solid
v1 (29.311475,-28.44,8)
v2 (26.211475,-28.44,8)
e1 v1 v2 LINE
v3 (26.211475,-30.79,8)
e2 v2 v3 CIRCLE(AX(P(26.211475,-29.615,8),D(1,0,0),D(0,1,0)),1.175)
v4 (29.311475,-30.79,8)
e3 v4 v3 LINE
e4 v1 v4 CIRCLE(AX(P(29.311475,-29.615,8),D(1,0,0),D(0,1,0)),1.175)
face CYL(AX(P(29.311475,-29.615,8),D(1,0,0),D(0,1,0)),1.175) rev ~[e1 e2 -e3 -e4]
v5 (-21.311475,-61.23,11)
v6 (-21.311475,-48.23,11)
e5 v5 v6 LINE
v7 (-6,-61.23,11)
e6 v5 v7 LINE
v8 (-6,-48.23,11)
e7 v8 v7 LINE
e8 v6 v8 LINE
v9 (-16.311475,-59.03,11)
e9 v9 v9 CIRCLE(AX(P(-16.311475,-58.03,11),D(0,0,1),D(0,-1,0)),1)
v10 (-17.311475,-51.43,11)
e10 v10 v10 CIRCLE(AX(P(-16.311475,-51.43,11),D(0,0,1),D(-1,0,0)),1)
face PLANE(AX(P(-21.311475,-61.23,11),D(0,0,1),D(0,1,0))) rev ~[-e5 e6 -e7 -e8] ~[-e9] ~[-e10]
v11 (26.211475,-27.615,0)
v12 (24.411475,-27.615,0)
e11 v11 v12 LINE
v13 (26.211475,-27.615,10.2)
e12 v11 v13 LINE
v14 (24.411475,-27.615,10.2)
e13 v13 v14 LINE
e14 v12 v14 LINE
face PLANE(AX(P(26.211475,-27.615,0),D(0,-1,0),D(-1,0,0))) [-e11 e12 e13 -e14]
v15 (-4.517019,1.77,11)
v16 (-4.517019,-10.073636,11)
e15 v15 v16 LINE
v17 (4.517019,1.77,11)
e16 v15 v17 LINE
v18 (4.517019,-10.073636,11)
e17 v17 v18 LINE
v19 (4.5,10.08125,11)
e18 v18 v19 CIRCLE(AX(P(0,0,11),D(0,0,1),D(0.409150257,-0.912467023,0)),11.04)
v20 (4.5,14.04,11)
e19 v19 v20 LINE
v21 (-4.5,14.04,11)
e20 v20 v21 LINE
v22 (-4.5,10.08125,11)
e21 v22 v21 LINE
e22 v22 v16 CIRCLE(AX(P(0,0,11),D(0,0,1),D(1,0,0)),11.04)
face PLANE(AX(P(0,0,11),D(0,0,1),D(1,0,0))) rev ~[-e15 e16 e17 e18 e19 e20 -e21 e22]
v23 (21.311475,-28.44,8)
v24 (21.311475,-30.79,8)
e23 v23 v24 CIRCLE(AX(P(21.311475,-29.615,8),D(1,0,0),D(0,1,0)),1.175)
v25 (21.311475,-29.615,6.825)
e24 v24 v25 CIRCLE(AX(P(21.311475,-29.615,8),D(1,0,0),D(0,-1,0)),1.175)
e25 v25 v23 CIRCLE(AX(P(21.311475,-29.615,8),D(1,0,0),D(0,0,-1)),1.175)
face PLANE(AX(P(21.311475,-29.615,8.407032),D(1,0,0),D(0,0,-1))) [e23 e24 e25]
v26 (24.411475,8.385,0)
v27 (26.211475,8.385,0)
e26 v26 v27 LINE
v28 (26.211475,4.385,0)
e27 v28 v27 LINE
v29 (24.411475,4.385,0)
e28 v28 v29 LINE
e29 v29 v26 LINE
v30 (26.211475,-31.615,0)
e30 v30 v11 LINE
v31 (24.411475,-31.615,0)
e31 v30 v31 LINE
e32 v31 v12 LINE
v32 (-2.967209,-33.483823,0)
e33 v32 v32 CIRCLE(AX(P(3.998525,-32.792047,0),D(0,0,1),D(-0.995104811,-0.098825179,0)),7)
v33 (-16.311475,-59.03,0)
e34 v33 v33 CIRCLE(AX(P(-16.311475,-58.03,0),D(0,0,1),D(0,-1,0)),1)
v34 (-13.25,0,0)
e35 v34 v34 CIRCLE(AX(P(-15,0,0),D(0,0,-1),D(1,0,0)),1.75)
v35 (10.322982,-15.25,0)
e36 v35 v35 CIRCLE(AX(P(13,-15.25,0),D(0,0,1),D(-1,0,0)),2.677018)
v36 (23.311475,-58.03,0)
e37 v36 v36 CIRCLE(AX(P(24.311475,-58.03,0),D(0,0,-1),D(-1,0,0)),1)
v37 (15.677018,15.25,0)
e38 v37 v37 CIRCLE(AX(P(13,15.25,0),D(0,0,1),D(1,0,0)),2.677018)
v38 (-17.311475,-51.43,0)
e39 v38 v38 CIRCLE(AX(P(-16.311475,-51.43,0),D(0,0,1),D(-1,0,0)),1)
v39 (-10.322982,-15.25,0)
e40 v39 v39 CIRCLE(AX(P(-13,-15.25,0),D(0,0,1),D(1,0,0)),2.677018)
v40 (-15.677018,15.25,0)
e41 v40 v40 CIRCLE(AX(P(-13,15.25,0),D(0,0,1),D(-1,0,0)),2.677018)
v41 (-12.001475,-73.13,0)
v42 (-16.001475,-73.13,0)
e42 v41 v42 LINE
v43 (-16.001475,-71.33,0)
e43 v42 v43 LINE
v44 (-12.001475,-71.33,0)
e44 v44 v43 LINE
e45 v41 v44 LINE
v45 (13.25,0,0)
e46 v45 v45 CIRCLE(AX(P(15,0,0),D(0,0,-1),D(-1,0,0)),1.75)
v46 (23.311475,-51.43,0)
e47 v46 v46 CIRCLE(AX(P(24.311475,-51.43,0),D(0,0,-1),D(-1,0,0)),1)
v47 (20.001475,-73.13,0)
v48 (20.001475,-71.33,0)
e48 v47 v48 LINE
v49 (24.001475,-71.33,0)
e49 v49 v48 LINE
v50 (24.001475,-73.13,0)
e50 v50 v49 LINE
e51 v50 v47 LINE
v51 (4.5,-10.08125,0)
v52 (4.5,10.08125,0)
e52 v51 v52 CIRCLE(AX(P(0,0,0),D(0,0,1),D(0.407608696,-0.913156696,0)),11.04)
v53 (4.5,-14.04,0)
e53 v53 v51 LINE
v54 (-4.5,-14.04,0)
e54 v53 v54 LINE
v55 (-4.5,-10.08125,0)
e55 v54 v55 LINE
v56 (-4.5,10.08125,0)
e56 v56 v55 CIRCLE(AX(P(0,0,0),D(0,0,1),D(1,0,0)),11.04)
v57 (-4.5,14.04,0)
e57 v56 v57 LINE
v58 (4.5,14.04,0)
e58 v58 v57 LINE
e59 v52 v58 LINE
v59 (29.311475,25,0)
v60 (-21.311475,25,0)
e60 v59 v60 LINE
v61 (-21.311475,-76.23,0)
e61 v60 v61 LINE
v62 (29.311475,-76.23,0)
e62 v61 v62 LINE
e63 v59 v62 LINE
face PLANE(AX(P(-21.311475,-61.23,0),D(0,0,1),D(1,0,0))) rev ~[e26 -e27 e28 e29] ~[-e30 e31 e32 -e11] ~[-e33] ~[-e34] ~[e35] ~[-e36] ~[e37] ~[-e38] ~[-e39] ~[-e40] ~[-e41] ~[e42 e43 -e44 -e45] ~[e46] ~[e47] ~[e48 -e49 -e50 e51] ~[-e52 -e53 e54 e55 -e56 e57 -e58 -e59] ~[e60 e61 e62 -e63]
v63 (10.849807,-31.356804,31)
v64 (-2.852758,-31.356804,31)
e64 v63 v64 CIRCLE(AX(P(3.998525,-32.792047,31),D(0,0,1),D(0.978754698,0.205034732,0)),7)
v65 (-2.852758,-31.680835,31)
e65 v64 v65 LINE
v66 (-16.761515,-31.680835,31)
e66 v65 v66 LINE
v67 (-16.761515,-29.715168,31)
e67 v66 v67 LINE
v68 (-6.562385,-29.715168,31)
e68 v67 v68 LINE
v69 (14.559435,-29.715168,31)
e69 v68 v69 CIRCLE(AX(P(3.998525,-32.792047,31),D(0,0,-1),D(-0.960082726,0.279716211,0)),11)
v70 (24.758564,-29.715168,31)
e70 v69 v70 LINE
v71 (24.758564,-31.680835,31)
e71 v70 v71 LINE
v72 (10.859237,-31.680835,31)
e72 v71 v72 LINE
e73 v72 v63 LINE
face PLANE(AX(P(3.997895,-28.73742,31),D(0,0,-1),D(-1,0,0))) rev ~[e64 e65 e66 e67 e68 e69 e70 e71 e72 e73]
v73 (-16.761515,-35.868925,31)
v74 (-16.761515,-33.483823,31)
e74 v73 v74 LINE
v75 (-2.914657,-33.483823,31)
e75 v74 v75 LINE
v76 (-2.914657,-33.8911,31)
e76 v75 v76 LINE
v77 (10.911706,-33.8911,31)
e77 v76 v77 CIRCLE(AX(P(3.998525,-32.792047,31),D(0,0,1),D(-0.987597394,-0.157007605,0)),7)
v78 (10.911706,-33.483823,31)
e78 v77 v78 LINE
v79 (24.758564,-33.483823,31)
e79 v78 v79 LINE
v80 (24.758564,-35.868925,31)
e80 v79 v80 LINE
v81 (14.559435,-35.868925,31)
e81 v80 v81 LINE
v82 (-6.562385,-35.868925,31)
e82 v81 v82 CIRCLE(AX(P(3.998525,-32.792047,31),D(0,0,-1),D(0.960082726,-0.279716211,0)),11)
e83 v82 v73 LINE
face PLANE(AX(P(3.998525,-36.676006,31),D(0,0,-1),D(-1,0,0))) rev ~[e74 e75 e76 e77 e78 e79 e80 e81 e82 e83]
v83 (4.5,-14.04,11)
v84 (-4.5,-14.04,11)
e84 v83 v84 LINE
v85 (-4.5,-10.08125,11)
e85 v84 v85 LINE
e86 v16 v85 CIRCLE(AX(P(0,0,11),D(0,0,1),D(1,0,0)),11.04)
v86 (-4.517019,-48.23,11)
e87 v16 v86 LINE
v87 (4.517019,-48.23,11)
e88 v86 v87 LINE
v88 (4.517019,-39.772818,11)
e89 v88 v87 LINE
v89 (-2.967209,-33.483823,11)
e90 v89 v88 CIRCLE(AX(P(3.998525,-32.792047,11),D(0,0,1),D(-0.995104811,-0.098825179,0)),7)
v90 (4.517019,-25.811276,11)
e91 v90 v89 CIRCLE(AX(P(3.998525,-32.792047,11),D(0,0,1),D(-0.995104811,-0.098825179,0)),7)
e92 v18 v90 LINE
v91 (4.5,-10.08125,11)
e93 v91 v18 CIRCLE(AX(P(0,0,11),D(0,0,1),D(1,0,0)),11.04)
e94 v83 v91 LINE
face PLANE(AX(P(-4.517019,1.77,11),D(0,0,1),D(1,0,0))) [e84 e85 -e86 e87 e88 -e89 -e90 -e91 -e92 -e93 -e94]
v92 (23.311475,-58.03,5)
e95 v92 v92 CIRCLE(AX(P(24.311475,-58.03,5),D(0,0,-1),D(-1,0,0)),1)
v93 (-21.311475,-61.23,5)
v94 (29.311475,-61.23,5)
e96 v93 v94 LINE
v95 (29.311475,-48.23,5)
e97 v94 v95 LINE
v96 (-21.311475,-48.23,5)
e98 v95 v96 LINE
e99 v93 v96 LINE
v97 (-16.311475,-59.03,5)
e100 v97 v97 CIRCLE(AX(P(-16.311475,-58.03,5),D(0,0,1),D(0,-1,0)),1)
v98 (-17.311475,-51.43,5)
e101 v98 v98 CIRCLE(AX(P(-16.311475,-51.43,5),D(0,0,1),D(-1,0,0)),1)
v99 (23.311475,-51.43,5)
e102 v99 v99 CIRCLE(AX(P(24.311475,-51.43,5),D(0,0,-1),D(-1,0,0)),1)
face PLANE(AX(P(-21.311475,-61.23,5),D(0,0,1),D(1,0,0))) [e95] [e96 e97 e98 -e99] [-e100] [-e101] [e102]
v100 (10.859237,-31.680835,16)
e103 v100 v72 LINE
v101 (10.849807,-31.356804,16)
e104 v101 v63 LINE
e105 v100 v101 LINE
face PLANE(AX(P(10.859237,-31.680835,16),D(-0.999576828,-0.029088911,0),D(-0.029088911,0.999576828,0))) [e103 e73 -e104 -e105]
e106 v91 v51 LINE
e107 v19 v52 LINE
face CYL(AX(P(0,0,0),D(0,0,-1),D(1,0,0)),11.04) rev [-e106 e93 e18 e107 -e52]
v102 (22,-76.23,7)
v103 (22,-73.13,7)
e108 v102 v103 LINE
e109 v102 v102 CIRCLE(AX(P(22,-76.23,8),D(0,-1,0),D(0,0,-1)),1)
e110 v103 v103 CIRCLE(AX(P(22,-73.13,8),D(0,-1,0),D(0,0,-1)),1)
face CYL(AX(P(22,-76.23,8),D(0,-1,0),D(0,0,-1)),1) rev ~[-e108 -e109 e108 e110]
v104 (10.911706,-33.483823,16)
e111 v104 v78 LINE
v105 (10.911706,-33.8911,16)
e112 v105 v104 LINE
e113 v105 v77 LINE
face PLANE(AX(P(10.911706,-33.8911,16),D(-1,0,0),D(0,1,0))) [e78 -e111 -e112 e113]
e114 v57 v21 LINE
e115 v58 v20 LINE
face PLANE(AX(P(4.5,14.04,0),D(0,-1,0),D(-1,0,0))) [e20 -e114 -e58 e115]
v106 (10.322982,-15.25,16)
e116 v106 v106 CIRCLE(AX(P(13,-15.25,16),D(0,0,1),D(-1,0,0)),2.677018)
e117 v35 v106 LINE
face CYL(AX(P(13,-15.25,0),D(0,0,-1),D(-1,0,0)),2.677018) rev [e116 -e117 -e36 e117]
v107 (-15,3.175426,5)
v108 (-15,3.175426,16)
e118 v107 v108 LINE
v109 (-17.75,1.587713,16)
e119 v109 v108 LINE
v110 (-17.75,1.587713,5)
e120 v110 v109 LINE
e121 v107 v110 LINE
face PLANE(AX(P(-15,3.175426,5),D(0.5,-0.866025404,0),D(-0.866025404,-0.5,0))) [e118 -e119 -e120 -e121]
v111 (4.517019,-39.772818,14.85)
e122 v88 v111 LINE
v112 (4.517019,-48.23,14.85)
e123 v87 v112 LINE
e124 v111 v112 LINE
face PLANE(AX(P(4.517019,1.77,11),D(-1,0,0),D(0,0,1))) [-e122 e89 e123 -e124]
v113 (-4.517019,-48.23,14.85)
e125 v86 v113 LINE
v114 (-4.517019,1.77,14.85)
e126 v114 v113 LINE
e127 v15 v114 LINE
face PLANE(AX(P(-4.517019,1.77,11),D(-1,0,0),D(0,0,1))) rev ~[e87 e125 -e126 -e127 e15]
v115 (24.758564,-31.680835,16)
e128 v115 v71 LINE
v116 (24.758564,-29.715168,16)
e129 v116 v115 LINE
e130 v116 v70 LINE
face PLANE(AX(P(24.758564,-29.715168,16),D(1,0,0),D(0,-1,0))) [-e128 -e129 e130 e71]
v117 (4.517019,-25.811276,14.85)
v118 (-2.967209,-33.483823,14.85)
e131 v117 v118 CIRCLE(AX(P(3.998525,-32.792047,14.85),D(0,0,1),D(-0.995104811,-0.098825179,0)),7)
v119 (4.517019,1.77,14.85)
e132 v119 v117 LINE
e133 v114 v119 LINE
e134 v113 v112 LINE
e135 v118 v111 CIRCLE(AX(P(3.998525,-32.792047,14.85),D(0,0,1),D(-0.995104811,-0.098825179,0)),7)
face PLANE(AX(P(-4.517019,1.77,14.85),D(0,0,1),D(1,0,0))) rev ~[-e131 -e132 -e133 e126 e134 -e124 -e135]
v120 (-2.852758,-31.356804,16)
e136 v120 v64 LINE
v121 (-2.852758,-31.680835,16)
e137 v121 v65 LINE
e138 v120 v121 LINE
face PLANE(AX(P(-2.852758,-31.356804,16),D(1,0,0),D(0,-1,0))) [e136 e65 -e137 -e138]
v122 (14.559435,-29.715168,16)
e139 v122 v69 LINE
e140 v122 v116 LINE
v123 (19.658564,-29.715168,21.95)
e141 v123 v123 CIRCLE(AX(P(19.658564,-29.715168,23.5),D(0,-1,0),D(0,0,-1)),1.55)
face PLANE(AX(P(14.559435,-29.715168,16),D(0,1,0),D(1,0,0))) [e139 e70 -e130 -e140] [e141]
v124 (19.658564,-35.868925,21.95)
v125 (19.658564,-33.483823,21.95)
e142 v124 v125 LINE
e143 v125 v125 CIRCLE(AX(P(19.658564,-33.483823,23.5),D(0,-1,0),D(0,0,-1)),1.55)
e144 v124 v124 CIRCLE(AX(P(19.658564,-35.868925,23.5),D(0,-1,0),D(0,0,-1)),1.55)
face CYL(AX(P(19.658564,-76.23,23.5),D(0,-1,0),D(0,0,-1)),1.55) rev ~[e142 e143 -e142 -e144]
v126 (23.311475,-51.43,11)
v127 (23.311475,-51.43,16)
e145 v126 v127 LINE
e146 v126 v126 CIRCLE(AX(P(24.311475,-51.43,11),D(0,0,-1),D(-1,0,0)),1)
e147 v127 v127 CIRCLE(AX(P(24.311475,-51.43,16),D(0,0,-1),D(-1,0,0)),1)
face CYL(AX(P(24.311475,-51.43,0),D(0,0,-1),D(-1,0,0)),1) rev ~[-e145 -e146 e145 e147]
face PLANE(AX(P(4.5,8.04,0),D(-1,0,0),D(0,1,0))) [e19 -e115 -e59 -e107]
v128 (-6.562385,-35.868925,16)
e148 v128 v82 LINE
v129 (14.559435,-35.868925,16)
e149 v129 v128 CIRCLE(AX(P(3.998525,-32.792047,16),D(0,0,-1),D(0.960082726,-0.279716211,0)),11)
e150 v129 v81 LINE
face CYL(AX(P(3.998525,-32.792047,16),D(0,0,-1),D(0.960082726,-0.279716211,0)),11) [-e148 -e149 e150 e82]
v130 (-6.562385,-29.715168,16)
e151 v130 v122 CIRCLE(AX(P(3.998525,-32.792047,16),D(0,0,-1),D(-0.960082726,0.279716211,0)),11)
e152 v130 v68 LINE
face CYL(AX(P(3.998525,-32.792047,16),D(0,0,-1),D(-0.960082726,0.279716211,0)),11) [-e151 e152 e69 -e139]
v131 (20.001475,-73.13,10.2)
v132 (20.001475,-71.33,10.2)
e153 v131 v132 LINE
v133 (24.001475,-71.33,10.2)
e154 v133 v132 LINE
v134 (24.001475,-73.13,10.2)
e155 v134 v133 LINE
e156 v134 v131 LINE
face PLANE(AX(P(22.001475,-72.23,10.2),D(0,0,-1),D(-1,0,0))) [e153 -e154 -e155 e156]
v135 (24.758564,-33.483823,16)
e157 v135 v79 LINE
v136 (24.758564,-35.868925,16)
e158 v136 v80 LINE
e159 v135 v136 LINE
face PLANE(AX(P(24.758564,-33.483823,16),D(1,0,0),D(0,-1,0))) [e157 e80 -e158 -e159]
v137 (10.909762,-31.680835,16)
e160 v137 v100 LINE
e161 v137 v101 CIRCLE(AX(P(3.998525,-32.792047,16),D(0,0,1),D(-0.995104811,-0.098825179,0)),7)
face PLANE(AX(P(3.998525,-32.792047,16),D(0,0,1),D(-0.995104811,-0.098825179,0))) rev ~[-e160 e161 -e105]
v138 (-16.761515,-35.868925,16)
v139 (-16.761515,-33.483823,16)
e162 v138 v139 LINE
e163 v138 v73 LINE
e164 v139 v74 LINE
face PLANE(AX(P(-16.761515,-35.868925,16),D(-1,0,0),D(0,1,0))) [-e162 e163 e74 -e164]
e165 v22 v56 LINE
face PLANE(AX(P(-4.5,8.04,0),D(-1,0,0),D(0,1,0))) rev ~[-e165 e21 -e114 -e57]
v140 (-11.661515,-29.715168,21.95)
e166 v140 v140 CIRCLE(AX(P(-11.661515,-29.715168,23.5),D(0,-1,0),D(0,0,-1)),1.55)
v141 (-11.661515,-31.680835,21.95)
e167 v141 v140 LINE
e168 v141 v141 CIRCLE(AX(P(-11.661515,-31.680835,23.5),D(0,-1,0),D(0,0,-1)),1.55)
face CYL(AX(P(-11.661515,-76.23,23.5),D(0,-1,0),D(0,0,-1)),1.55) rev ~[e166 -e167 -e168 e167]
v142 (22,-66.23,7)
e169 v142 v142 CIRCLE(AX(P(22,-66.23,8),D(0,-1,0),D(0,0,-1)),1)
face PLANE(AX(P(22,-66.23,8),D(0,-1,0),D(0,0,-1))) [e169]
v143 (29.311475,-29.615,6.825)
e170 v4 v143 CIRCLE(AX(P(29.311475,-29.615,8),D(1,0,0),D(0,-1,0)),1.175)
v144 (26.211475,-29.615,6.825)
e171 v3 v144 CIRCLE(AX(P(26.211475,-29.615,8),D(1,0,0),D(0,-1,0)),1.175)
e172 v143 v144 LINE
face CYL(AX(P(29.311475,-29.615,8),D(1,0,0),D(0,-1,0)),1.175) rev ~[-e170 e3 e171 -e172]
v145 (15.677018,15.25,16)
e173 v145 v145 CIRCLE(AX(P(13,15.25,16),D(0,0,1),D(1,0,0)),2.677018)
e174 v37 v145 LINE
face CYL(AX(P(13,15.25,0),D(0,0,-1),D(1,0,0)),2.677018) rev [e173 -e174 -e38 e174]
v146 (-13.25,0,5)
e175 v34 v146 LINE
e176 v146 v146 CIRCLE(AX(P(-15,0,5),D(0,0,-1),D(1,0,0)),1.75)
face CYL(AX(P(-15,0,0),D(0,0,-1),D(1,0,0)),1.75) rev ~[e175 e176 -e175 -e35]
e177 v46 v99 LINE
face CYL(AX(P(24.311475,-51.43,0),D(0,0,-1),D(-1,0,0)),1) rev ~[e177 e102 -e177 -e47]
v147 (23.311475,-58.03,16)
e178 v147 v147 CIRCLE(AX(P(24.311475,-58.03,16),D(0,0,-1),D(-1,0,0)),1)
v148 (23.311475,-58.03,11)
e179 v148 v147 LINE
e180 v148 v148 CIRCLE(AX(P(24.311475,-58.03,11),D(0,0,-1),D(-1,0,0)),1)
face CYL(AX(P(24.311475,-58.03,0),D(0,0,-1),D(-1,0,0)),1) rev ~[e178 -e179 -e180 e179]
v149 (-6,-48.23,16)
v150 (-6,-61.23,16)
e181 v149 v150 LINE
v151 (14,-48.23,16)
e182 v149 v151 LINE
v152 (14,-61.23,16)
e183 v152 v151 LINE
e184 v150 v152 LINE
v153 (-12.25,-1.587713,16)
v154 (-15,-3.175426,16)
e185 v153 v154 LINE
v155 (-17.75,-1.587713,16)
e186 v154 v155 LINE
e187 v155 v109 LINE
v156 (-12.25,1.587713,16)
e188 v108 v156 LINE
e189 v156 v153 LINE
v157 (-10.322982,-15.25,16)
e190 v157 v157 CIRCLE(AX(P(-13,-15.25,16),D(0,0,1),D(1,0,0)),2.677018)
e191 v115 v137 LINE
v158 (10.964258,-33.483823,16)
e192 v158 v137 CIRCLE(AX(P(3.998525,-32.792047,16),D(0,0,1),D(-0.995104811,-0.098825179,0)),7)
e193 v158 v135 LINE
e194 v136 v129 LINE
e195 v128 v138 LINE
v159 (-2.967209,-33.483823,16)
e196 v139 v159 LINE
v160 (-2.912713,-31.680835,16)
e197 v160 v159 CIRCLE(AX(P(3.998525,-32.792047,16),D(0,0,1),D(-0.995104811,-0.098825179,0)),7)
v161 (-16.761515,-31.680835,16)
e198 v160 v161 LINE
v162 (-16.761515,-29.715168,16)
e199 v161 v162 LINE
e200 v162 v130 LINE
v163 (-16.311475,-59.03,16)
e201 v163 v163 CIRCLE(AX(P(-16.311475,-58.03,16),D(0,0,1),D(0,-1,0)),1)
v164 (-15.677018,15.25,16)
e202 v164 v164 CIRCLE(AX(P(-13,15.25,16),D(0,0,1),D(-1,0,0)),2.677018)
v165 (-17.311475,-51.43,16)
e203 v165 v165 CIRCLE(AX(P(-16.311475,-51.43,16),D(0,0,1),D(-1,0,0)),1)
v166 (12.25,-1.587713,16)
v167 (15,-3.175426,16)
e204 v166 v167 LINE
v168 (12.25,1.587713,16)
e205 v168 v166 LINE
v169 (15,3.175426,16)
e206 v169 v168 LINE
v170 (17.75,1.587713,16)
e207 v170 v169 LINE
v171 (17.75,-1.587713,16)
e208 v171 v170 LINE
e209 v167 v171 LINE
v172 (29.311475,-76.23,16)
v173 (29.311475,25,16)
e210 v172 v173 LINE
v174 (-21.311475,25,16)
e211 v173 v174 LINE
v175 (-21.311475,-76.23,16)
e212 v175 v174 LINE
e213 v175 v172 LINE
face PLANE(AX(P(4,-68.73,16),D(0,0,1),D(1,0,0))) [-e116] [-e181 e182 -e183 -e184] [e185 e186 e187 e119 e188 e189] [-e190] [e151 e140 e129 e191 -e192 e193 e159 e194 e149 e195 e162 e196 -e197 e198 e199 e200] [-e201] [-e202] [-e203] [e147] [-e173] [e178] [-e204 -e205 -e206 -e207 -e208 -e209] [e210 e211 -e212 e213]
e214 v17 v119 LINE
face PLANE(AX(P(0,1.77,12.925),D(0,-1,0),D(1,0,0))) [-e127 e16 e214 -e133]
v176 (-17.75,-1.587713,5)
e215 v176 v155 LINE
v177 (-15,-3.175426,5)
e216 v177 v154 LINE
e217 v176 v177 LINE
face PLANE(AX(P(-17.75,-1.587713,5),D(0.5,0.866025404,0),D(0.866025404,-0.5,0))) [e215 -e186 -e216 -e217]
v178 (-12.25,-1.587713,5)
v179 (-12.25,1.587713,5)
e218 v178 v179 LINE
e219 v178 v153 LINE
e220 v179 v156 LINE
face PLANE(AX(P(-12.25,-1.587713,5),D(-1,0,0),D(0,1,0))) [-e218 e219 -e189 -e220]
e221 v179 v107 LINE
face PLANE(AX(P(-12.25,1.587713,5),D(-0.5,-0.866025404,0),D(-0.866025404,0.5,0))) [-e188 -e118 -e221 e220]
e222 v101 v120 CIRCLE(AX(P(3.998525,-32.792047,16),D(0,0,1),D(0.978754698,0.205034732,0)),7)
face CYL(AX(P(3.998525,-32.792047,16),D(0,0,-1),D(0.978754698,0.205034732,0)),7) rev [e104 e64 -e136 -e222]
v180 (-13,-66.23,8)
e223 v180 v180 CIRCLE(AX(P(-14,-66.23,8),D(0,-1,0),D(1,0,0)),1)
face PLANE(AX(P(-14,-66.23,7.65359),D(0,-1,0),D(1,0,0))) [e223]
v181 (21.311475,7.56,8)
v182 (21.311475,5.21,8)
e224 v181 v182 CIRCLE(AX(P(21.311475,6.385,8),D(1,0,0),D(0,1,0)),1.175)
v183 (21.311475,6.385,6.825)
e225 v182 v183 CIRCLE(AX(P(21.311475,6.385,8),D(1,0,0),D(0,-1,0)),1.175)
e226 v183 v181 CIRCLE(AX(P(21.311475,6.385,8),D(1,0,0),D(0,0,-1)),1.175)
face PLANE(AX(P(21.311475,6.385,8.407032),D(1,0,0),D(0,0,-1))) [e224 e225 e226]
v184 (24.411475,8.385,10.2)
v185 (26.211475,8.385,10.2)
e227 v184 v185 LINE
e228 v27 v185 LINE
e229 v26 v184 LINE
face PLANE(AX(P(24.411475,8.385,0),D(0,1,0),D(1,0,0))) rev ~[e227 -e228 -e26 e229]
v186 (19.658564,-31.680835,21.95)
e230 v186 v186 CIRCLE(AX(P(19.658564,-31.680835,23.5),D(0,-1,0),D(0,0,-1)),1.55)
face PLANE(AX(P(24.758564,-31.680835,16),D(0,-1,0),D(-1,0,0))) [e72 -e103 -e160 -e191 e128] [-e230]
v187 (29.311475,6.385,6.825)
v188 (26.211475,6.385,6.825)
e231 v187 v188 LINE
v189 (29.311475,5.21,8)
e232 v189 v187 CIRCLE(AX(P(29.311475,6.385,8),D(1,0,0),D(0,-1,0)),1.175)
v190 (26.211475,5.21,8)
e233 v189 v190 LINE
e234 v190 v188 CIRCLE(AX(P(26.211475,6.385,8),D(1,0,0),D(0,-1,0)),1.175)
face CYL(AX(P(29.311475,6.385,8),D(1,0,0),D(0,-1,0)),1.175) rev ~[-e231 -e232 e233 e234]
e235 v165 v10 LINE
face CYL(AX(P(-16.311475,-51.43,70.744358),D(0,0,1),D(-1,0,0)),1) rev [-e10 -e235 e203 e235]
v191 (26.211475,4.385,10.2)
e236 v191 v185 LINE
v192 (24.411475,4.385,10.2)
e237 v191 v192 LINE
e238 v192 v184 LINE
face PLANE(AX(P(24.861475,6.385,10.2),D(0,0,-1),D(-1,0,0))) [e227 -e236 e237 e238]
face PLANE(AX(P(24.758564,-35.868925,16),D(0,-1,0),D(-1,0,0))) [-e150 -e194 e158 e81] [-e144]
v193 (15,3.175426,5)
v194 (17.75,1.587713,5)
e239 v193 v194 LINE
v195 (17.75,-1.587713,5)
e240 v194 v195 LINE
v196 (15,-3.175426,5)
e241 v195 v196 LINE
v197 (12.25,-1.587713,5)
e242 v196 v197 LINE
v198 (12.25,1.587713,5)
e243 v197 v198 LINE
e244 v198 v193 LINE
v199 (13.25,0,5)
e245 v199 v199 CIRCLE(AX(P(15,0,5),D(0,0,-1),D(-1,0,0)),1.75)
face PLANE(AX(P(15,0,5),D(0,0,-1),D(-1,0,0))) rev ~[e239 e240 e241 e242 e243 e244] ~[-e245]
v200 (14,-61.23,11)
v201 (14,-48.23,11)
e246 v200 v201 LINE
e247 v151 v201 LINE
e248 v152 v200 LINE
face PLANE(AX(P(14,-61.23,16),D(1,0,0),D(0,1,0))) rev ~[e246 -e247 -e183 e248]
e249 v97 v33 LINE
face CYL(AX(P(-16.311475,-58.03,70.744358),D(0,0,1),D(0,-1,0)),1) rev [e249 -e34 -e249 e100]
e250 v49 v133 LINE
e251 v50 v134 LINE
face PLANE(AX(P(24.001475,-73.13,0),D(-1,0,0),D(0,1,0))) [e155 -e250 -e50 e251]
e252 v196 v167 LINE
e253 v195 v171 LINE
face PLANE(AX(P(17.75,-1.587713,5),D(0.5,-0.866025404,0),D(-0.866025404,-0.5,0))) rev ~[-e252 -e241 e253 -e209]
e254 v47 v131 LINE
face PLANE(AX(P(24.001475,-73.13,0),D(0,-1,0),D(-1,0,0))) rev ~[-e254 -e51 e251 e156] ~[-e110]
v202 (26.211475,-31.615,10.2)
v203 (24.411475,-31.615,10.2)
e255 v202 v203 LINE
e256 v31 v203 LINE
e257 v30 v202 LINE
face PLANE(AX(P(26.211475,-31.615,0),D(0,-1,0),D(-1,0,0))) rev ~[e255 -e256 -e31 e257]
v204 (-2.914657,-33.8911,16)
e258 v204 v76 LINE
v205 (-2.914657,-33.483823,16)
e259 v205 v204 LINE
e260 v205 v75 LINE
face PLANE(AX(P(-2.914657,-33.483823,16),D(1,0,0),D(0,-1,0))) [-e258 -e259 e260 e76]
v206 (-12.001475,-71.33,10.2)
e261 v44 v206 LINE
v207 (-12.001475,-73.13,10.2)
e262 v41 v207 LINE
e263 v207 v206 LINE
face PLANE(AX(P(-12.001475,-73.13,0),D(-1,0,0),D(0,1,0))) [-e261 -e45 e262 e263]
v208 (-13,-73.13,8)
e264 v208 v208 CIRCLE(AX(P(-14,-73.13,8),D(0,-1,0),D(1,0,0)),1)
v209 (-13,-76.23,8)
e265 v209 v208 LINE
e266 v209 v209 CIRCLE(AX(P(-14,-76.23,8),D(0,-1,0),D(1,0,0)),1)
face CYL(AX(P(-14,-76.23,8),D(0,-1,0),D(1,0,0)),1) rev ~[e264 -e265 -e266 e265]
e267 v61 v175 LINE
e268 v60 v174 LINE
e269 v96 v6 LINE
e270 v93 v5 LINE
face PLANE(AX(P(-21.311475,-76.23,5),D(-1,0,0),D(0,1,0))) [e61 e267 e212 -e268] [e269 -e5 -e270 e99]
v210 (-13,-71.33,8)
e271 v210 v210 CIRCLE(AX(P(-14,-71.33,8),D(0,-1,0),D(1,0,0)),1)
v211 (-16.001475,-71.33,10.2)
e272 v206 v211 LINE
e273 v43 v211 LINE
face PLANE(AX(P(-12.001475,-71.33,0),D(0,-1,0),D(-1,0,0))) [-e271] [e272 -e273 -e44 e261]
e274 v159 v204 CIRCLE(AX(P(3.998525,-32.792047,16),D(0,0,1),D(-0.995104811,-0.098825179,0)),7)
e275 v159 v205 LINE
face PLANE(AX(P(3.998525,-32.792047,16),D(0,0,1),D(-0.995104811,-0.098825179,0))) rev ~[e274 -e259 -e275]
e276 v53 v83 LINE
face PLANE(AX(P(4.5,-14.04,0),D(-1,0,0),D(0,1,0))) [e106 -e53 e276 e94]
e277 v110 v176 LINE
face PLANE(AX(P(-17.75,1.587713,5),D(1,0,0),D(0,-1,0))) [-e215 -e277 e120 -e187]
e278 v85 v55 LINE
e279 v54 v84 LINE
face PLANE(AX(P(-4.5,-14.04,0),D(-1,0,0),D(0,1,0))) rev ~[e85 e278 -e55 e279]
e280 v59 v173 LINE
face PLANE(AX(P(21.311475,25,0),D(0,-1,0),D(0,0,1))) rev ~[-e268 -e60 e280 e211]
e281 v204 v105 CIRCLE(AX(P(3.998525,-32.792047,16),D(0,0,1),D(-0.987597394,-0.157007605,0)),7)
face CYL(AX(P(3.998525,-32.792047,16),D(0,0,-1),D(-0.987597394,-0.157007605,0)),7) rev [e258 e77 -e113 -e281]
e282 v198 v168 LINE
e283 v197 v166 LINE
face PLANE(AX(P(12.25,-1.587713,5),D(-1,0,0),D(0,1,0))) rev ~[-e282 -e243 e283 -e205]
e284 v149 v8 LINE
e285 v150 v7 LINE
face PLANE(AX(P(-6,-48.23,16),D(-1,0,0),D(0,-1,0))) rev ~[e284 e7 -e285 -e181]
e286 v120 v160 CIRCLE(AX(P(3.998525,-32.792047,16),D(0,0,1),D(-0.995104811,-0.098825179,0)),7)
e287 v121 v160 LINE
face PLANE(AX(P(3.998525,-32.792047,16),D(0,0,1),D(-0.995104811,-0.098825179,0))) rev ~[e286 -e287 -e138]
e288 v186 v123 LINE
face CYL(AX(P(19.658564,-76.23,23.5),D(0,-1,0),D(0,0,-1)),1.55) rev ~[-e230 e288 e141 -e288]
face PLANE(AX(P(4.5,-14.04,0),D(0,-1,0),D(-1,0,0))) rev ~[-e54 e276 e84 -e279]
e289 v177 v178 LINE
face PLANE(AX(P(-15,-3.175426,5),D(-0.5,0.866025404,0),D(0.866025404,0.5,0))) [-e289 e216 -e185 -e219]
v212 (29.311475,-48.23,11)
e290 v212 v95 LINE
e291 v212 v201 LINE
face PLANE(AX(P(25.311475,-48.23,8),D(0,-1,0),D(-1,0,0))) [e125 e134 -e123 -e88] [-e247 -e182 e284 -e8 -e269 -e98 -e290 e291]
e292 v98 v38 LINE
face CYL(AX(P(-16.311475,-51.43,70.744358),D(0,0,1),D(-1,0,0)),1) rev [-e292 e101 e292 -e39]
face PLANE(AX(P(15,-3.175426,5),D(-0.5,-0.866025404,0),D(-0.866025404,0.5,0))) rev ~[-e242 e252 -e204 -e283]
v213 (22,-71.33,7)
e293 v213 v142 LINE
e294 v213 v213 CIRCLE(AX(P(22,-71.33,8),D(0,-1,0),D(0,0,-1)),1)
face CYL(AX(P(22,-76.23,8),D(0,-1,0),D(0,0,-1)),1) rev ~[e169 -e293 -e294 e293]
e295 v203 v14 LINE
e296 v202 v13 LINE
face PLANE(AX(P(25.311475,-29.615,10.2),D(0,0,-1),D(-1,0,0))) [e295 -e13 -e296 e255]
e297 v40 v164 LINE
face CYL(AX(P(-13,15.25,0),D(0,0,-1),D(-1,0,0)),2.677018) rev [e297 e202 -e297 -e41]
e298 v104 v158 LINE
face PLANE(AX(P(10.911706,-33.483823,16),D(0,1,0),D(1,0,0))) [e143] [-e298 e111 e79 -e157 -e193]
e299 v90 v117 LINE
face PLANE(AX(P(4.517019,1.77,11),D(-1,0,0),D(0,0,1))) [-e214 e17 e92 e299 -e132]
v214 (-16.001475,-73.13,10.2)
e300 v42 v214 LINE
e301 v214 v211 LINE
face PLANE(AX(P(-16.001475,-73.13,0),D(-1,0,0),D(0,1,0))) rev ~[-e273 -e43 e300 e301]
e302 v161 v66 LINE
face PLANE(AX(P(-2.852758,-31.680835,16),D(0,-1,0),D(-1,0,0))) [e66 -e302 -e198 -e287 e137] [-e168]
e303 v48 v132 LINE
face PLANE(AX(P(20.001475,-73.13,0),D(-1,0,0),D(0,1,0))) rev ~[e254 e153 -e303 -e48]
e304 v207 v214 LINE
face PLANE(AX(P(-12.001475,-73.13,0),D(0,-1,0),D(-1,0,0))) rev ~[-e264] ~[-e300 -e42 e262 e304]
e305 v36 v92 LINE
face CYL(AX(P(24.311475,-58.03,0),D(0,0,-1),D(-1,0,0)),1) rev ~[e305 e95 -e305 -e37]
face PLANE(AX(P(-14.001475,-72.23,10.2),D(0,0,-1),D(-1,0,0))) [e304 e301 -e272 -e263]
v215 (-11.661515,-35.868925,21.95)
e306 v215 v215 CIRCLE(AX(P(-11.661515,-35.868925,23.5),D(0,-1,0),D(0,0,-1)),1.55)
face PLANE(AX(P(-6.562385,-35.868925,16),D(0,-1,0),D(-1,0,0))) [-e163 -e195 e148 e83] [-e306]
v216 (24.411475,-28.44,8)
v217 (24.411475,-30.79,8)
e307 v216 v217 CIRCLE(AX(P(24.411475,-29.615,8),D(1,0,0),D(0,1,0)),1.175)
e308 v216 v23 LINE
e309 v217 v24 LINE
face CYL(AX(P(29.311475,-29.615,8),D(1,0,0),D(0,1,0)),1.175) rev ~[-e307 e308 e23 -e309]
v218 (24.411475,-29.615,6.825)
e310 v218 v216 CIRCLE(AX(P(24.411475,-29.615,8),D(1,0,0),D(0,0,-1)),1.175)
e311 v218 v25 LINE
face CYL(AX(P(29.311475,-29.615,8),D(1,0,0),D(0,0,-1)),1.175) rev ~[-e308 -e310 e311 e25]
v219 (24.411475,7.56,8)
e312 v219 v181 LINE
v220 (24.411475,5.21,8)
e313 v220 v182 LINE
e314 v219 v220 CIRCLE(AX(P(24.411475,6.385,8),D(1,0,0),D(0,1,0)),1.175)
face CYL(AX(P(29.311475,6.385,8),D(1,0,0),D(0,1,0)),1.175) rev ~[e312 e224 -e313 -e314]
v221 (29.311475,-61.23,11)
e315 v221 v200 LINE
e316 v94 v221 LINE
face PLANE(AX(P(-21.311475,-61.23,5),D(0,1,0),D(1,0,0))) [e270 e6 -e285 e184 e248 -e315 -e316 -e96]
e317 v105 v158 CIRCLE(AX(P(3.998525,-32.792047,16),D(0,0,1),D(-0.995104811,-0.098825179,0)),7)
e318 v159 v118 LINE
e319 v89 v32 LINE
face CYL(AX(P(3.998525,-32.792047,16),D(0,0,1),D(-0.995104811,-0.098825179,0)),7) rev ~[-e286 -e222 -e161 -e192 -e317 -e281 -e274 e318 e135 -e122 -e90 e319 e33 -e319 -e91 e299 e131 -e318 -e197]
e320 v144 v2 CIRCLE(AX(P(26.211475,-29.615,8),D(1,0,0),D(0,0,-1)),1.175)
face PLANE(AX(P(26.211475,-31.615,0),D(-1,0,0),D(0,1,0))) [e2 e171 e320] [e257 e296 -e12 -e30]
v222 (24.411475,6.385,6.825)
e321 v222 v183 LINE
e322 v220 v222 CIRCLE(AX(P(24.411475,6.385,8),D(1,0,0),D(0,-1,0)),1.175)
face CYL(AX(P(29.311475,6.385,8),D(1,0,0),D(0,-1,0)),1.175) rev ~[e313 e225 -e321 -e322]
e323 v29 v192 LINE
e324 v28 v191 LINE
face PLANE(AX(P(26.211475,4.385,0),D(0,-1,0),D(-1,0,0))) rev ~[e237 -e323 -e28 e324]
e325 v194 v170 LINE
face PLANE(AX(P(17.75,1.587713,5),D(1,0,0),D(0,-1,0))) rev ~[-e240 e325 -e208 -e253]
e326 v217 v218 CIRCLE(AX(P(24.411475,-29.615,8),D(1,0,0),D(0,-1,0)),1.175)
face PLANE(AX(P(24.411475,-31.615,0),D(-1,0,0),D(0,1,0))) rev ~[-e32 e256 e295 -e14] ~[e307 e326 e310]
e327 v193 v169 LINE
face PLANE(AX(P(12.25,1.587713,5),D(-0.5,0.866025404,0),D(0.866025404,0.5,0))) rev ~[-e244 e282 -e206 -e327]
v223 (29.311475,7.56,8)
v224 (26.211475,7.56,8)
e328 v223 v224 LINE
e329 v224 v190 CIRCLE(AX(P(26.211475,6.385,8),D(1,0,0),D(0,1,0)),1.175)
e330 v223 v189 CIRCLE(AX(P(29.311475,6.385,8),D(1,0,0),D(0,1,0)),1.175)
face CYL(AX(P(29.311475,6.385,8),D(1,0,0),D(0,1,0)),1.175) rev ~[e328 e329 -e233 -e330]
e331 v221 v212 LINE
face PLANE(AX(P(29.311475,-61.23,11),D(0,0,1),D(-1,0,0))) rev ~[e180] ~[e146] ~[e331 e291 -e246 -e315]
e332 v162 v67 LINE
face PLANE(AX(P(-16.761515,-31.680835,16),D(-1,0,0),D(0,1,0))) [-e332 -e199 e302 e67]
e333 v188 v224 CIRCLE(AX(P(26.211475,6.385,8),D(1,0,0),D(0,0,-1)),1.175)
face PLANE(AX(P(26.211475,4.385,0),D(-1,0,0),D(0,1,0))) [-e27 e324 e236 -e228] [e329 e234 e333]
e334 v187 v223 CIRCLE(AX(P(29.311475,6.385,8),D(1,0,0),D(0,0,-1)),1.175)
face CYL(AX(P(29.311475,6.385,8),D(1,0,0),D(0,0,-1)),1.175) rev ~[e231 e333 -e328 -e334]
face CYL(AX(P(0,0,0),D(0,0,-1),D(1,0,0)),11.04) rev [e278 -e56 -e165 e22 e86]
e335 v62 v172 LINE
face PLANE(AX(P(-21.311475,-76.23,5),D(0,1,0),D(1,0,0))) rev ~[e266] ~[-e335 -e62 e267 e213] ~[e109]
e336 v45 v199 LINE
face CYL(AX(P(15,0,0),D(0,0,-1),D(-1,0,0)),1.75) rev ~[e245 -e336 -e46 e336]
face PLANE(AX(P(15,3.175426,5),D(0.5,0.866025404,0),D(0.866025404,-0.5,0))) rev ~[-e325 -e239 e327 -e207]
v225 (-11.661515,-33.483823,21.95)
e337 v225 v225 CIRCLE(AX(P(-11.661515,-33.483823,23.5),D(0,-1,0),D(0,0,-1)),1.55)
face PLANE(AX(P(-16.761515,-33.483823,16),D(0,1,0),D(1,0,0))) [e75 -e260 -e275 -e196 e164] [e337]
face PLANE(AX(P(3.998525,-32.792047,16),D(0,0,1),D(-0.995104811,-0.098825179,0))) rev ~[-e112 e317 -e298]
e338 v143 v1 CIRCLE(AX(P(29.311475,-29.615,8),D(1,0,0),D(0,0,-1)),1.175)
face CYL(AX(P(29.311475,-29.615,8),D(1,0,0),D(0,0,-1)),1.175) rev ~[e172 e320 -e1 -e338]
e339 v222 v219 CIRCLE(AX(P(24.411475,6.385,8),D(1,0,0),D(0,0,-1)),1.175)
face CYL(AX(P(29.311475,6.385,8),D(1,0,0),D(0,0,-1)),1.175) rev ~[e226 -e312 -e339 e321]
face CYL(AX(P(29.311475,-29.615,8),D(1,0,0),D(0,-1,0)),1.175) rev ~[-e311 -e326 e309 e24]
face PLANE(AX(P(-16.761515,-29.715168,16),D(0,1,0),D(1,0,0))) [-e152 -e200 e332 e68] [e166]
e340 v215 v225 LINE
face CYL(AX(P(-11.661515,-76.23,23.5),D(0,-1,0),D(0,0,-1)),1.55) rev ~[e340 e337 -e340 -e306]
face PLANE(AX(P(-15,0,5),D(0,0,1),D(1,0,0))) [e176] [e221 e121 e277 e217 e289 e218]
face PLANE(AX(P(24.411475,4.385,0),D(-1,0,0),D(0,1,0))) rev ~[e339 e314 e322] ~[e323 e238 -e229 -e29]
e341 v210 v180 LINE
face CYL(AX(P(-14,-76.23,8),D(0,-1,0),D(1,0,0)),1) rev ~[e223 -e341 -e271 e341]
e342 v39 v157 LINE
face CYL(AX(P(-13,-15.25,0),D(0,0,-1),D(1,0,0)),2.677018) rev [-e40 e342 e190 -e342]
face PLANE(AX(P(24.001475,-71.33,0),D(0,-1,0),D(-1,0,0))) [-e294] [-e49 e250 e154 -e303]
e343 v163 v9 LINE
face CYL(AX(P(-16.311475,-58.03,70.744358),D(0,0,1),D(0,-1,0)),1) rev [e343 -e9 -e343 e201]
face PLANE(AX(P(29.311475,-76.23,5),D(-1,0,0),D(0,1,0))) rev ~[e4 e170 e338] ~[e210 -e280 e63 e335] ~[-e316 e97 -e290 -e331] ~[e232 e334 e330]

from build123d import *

# Parameters (mm, degrees)
SKETCH1_W               = 42.62295082
SKETCH1_H               = 50
SKETCH1_R               = 2.677018134
BOSS_EXTRUDE1_DEPTH     = 16
SKETCH2_R               = 11.04
CUT_EXTRUDE2_DEPTH      = 11
SKETCH3_R               = 1.75
CUT_EXTRUDE3_DEPTH      = 10
CUT_EXTRUDE6_START      = -5
CUT_EXTRUDE6_DEPTH      = 32.540101042
SKETCH30_W              = 42.62295082
SKETCH30_H              = 16
BOSS_EXTRUDE8_DEPTH     = 20.23
SKETCH10_W              = 42.62295082
SKETCH10_H              = 16
BOSS_EXTRUDE2_DEPTH     = 16
SKETCH14_W              = 6
SKETCH14_H              = 13
CUT_EXTRUDE7_DEPTH      = 77.300909802
BOSS_EXTRUDE3_DEPTH     = 8
CUT_EXTRUDE9_DEPTH      = 8
SKETCH18_W              = 0.9
SKETCH18_H              = 4
SKETCH18_W_2            = 1.8
CUT_EXTRUDE10_DEPTH     = 10.2
CUT_EXTRUDE8_DEPTH      = 70.744358128
CUT_EXTRUDE8_DEPTH_BACK = 70.744358128
SKETCH15_R              = 1
CUT_EXTRUDE5_DEPTH      = 81.484753157
CUT_EXTRUDE5_DEPTH_BACK = 50
SKETCH6_W               = 9.034037672
SKETCH6_H               = 3.85
SKETCH20_W              = 8
SKETCH20_H              = 16
BOSS_EXTRUDE5_DEPTH     = 13
SKETCH21_W              = 8
SKETCH21_H              = 6
CUT_EXTRUDE11_DEPTH     = 13
SKETCH22_R              = 1
CUT_EXTRUDE12_DEPTH     = 70.744358128
SKETCH24_W              = 50.62295082
SKETCH24_H              = 5
BOSS_EXTRUDE6_DEPTH     = 15
SKETCH25_W              = 50.62295082
SKETCH25_H              = 15
BOSS_EXTRUDE7_DEPTH     = 11
SKETCH26_R              = 1
CUT_EXTRUDE13_DEPTH     = 10
SKETCH27_W              = 4
SKETCH27_H              = 1.8
CUT_EXTRUDE14_DEPTH     = 10.2
SKETCH29_W              = 20
SKETCH29_H              = 3.2
CUT_EXTRUDE15_DEPTH     = 5
SKETCH31_W              = 9
SKETCH31_H              = 6
CUT_EXTRUDE16_DEPTH     = 11
BOSS_EXTRUDE9_DEPTH     = 15
SKETCH35_R              = 7
CUT_EXTRUDE17_DEPTH     = 84.223647425
SKETCH46_R              = 1.55
CUT_EXTRUDE29_DEPTH     = 110.852972152


with BuildPart() as part:
    # Sketch1 → Boss-Extrude1 (new body)
    with BuildSketch(Plane.XY):
        Rectangle(SKETCH1_W, SKETCH1_H)
        with Locations((-13, -15.25)):
            Circle(SKETCH1_R, mode=Mode.SUBTRACT)
        with Locations(Location((13, -15.25, 0), (0, 0, 180))):
            Circle(SKETCH1_R, mode=Mode.SUBTRACT)
        with Locations((13, 15.25)):
            Circle(SKETCH1_R, mode=Mode.SUBTRACT)
        with Locations(Location((-13, 15.25, 0), (0, 0, 180))):
            Circle(SKETCH1_R, mode=Mode.SUBTRACT)
    extrude(amount=BOSS_EXTRUDE1_DEPTH)

    # Sketch2 → Cut-Extrude2 (cut)
    with BuildSketch(Plane.XY):
        Circle(SKETCH2_R)
    extrude(amount=CUT_EXTRUDE2_DEPTH, mode=Mode.SUBTRACT)

    # Sketch3 → Cut-Extrude3 (cut)
    with BuildSketch(Plane(origin=(0, 0, 0), x_dir=(-1, 0, 0), z_dir=(0, 0, -1))):
        with Locations((-15, 0)):
            Circle(SKETCH3_R)
        with Locations(Location((15, 0, 0), (0, 0, 180))):
            Circle(SKETCH3_R)
    extrude(amount=-CUT_EXTRUDE3_DEPTH, mode=Mode.SUBTRACT)

    # Sketch9 → Cut-Extrude6 (cut, through all)
    with BuildSketch(Plane(origin=(0, 0, 0), x_dir=(-1, 0, 0), z_dir=(0, 0, -1)).offset(CUT_EXTRUDE6_START)):
        Polygon((-15, 3.175426481), (-17.75, 1.58771324), (-17.75, -1.58771324), (-15, -3.175426481), (-12.25, -1.58771324), (-12.25, 1.58771324), align=None)
        Polygon((12.25, 1.58771324), (15, 3.175426481), (17.75, 1.58771324), (17.75, -1.58771324), (15, -3.175426481), (12.25, -1.58771324), align=None)
    extrude(amount=-CUT_EXTRUDE6_DEPTH, mode=Mode.SUBTRACT)

    # Sketch30 → Boss-Extrude8 (add)
    with BuildSketch(Plane.XZ.offset(25)):
        with Locations((0, 8)):
            Rectangle(SKETCH30_W, SKETCH30_H)
    extrude(amount=BOSS_EXTRUDE8_DEPTH)

    # Sketch10 → Boss-Extrude2 (add)
    with BuildSketch(Plane.XY):
        with Locations((0, -53.23)):
            Rectangle(SKETCH10_W, SKETCH10_H)
    extrude(amount=BOSS_EXTRUDE2_DEPTH)

    # Sketch14 → Cut-Extrude7 (cut, through all)
    with BuildSketch(Plane.ZY.offset(21.31147541)):
        with Locations((8, -54.73)):
            Rectangle(SKETCH14_W, SKETCH14_H)
    extrude(amount=-CUT_EXTRUDE7_DEPTH, mode=Mode.SUBTRACT)

    # Sketch16 → Boss-Extrude3 (add)
    with BuildSketch(Plane(origin=(21.31147541, 0, 0), x_dir=(0, 0, -1), z_dir=(1, 0, 0))):
        Polygon((-11, -48.23), (-8, -48.23), (-8, 25), (-16, 25), (-16, -48.23), align=None)
        Polygon((-8, 25), (-8, -48.23), (-5, -48.23), (0, -48.23), (0, 25), align=None)
    extrude(amount=BOSS_EXTRUDE3_DEPTH)

    # Sketch17 → Cut-Extrude9 (cut)
    with BuildSketch(Plane(origin=(29.31147541, 0, 0), x_dir=(0, 0, -1), z_dir=(1, 0, 0))):
        with BuildLine():
            ThreePointArc((-8, 7.56), (-9.175, 6.385), (-8, 5.21))
            Line((-8, 5.21), (-8, 7.56))
        make_face()
        with BuildLine():
            Line((-8, 7.56), (-8, 5.21))
            ThreePointArc((-8, 5.21), (-7.169149532, 5.554149532), (-6.825, 6.385))
            ThreePointArc((-6.825, 6.385), (-7.169149532, 7.215850468), (-8, 7.56))
        make_face()
        with BuildLine():
            ThreePointArc((-8, -28.44), (-9.175, -29.615), (-8, -30.79))
            Line((-8, -30.79), (-8, -28.44))
        make_face()
        with BuildLine():
            Line((-8, -28.44), (-8, -30.79))
            ThreePointArc((-8, -30.79), (-7.169149532, -30.445850468), (-6.825, -29.615))
            ThreePointArc((-6.825, -29.615), (-7.169149532, -28.784149532), (-8, -28.44))
        make_face()
    extrude(amount=-CUT_EXTRUDE9_DEPTH, mode=Mode.SUBTRACT)

    # Sketch18 → Cut-Extrude10 (cut)
    with BuildSketch(Plane(origin=(0, 0, 0), x_dir=(-1, 0, 0), z_dir=(0, 0, -1))):
        with Locations((-24.86147541, 6.385)):
            Rectangle(SKETCH18_W, SKETCH18_H)
        with Locations((-25.76147541, 6.385)):
            Rectangle(SKETCH18_W, SKETCH18_H)
        with Locations((-25.31147541, -29.615)):
            Rectangle(SKETCH18_W_2, SKETCH18_H)
    extrude(amount=-CUT_EXTRUDE10_DEPTH, mode=Mode.SUBTRACT)

    # Sketch15 → Cut-Extrude8 (cut, two sides: drawn at the far end of the back side and taken through both)
    with BuildSketch(Plane(origin=(0, 0, 0), x_dir=(-1, 0, 0), z_dir=(0, 0, -1)).offset(-CUT_EXTRUDE8_DEPTH_BACK)):
        with Locations(Location((16.31147541, -58.03, 0), (0, 0, 270))):
            Circle(SKETCH15_R)
        with Locations((16.31147541, -51.43)):
            Circle(SKETCH15_R)
    extrude(amount=CUT_EXTRUDE8_DEPTH + CUT_EXTRUDE8_DEPTH_BACK, mode=Mode.SUBTRACT)

    # Sketch6 → Cut-Extrude5 (cut, two sides: drawn at the far end of the back side and taken through both)
    with BuildSketch(Plane.XZ.offset(48.23).offset(-CUT_EXTRUDE5_DEPTH_BACK)):
        with Locations((0, 12.925)):
            Rectangle(SKETCH6_W, SKETCH6_H)
    extrude(amount=CUT_EXTRUDE5_DEPTH + CUT_EXTRUDE5_DEPTH_BACK, mode=Mode.SUBTRACT)

    # Sketch20 → Boss-Extrude5 (add)
    with BuildSketch(Plane(origin=(0, -48.23, 0), x_dir=(-1, 0, 0), z_dir=(0, -1, 0))):
        with Locations((-25.31147541, -8)):
            Rectangle(SKETCH20_W, SKETCH20_H)
    extrude(amount=BOSS_EXTRUDE5_DEPTH)

    # Sketch21 → Cut-Extrude11 (cut)
    with BuildSketch(Plane(origin=(0, -61.23, 0), x_dir=(-1, 0, 0), z_dir=(0, -1, 0))):
        with Locations((-25.31147541, -8)):
            Rectangle(SKETCH21_W, SKETCH21_H)
    extrude(amount=-CUT_EXTRUDE11_DEPTH, mode=Mode.SUBTRACT)

    # Sketch22 → Cut-Extrude12 (cut, through all)
    with BuildSketch(Plane(origin=(0, 0, 0), x_dir=(-1, 0, 0), z_dir=(0, 0, -1))):
        with Locations((-24.31147541, -58.03)):
            Circle(SKETCH22_R)
        with Locations((-24.31147541, -51.43)):
            Circle(SKETCH22_R)
    extrude(amount=-CUT_EXTRUDE12_DEPTH, mode=Mode.SUBTRACT)

    # Sketch24 → Boss-Extrude6 (add)
    with BuildSketch(Plane.XZ.offset(61.23)):
        with Locations((4, 2.5)):
            Rectangle(SKETCH24_W, SKETCH24_H)
    extrude(amount=BOSS_EXTRUDE6_DEPTH)

    # Sketch25 → Boss-Extrude7 (add)
    with BuildSketch(Plane.XY.offset(5)):
        with Locations((4, -68.73)):
            Rectangle(SKETCH25_W, SKETCH25_H)
    extrude(amount=BOSS_EXTRUDE7_DEPTH)

    # Sketch26 → Cut-Extrude13 (cut)
    with BuildSketch(Plane.XZ.offset(76.23)):
        with BuildLine():
            ThreePointArc((-15, 8), (-14, 7), (-13, 8))
            Line((-13, 8), (-15, 8))
        make_face()
        with BuildLine():
            Line((-15, 8), (-13, 8))
            ThreePointArc((-13, 8), (-14, 9), (-15, 8))
        make_face()
        with Locations(Location((22, 8, 0), (0, 0, 270))):
            Circle(SKETCH26_R)
    extrude(amount=-CUT_EXTRUDE13_DEPTH, mode=Mode.SUBTRACT)

    # Sketch27 → Cut-Extrude14 (cut)
    with BuildSketch(Plane(origin=(0, 0, 0), x_dir=(-1, 0, 0), z_dir=(0, 0, -1))):
        with Locations((-22.00147541, -72.23)):
            Rectangle(SKETCH27_W, SKETCH27_H)
        with Locations((14.00147541, -72.23)):
            Rectangle(SKETCH27_W, SKETCH27_H)
    extrude(amount=-CUT_EXTRUDE14_DEPTH, mode=Mode.SUBTRACT)

    # Sketch29 → Cut-Extrude15 (cut)
    with BuildSketch(Plane.XY.offset(16)):
        with Locations((4, -49.83)):
            Rectangle(SKETCH29_W, SKETCH29_H)
        Polygon((-6, -51.43), (-6, -53.105302663), (4, -54.73), (14, -53.105302663), (14, -51.43), align=None)
        Polygon((4, -54.73), (-6, -53.105302663), (-6, -56.354697337), align=None)
        with Locations((4, -59.63)):
            Rectangle(SKETCH29_W, SKETCH29_H)
        Polygon((14, -56.354697337), (4, -54.73), (-6, -56.354697337), (-6, -58.03), (14, -58.03), align=None)
        Polygon((14, -53.105302663), (4, -54.73), (14, -56.354697337), align=None)
    extrude(amount=-CUT_EXTRUDE15_DEPTH, mode=Mode.SUBTRACT)

    # Sketch31 → Cut-Extrude16 (cut)
    with BuildSketch(Plane(origin=(0, 0, 0), x_dir=(-1, 0, 0), z_dir=(0, 0, -1))):
        with Locations((0, 11.04)):
            Rectangle(SKETCH31_W, SKETCH31_H)
        with Locations((0, -11.04)):
            Rectangle(SKETCH31_W, SKETCH31_H)
    extrude(amount=-CUT_EXTRUDE16_DEPTH, mode=Mode.SUBTRACT)

    # Sketch32 → Boss-Extrude9 (add)
    with BuildSketch(Plane.XY.offset(16)):
        with BuildLine():
            Line((14.559434578, -29.715168312), (24.758563733, -29.715168312))
            Line((24.758563733, -29.715168312), (24.758563733, -31.680835322))
            Line((24.758563733, -31.680835322), (22.349807475, -31.680835322))
            Line((22.349807475, -31.680835322), (10.859237198, -31.680835322))
            Line((10.859237198, -31.680835322), (10.849807475, -31.356803512))
            ThreePointArc((10.849807475, -31.356803512), (3.99852459, -25.792046638), (-2.852758295, -31.356803512))
            Line((-2.852758295, -31.356803512), (-2.852758295, -31.680835322))
            Line((-2.852758295, -31.680835322), (-14.352758295, -31.680835322))
            Line((-14.352758295, -31.680835322), (-16.761514553, -31.680835322))
            Line((-16.761514553, -31.680835322), (-16.761514553, -29.715168312))
            Line((-16.761514553, -29.715168312), (-6.562385398, -29.715168312))
            ThreePointArc((-6.562385398, -29.715168312), (3.99852459, -21.792046638), (14.559434578, -29.715168312))
        make_face()
        with BuildLine():
            Line((-14.352758295, -33.483822891), (-2.914657165, -33.483822891))
            Line((-2.914657165, -33.483822891), (-2.914657165, -33.891099874))
            ThreePointArc((-2.914657165, -33.891099874), (3.99852459, -39.792046638), (10.911706346, -33.891099874))
            Line((10.911706346, -33.891099874), (10.911706346, -33.483822891))
            Line((10.911706346, -33.483822891), (22.349807475, -33.483822891))
            Line((22.349807475, -33.483822891), (24.758563733, -33.483822891))
            Line((24.758563733, -33.483822891), (24.758563733, -35.868924963))
            Line((24.758563733, -35.868924963), (14.559434578, -35.868924963))
            ThreePointArc((14.559434578, -35.868924963), (3.99852459, -43.792046638), (-6.562385398, -35.868924963))
            Line((-6.562385398, -35.868924963), (-16.761514553, -35.868924963))
            Line((-16.761514553, -35.868924963), (-16.761514553, -33.483822891))
            Line((-16.761514553, -33.483822891), (-14.352758295, -33.483822891))
        make_face()
    extrude(amount=BOSS_EXTRUDE9_DEPTH)

    # Sketch35 → Cut-Extrude17 (cut, through all)
    with BuildSketch(Plane.XY.offset(16)):
        with Locations(Location((3.99852459, -32.792046638, 0), (0, 0, 185.671523081))):
            Circle(SKETCH35_R)
    extrude(amount=-CUT_EXTRUDE17_DEPTH, mode=Mode.SUBTRACT)

    # Sketch46 → Cut-Extrude29 (cut, through all)
    with BuildSketch(Plane.XZ.offset(76.23)):
        with Locations(Location((-11.661514553, 23.5, 0), (0, 0, 270))):
            Circle(SKETCH46_R)
        with Locations(Location((19.658563733, 23.5, 0), (0, 0, 270))):
            Circle(SKETCH46_R)
    extrude(amount=-CUT_EXTRUDE29_DEPTH, mode=Mode.SUBTRACT)


solid = part.part
